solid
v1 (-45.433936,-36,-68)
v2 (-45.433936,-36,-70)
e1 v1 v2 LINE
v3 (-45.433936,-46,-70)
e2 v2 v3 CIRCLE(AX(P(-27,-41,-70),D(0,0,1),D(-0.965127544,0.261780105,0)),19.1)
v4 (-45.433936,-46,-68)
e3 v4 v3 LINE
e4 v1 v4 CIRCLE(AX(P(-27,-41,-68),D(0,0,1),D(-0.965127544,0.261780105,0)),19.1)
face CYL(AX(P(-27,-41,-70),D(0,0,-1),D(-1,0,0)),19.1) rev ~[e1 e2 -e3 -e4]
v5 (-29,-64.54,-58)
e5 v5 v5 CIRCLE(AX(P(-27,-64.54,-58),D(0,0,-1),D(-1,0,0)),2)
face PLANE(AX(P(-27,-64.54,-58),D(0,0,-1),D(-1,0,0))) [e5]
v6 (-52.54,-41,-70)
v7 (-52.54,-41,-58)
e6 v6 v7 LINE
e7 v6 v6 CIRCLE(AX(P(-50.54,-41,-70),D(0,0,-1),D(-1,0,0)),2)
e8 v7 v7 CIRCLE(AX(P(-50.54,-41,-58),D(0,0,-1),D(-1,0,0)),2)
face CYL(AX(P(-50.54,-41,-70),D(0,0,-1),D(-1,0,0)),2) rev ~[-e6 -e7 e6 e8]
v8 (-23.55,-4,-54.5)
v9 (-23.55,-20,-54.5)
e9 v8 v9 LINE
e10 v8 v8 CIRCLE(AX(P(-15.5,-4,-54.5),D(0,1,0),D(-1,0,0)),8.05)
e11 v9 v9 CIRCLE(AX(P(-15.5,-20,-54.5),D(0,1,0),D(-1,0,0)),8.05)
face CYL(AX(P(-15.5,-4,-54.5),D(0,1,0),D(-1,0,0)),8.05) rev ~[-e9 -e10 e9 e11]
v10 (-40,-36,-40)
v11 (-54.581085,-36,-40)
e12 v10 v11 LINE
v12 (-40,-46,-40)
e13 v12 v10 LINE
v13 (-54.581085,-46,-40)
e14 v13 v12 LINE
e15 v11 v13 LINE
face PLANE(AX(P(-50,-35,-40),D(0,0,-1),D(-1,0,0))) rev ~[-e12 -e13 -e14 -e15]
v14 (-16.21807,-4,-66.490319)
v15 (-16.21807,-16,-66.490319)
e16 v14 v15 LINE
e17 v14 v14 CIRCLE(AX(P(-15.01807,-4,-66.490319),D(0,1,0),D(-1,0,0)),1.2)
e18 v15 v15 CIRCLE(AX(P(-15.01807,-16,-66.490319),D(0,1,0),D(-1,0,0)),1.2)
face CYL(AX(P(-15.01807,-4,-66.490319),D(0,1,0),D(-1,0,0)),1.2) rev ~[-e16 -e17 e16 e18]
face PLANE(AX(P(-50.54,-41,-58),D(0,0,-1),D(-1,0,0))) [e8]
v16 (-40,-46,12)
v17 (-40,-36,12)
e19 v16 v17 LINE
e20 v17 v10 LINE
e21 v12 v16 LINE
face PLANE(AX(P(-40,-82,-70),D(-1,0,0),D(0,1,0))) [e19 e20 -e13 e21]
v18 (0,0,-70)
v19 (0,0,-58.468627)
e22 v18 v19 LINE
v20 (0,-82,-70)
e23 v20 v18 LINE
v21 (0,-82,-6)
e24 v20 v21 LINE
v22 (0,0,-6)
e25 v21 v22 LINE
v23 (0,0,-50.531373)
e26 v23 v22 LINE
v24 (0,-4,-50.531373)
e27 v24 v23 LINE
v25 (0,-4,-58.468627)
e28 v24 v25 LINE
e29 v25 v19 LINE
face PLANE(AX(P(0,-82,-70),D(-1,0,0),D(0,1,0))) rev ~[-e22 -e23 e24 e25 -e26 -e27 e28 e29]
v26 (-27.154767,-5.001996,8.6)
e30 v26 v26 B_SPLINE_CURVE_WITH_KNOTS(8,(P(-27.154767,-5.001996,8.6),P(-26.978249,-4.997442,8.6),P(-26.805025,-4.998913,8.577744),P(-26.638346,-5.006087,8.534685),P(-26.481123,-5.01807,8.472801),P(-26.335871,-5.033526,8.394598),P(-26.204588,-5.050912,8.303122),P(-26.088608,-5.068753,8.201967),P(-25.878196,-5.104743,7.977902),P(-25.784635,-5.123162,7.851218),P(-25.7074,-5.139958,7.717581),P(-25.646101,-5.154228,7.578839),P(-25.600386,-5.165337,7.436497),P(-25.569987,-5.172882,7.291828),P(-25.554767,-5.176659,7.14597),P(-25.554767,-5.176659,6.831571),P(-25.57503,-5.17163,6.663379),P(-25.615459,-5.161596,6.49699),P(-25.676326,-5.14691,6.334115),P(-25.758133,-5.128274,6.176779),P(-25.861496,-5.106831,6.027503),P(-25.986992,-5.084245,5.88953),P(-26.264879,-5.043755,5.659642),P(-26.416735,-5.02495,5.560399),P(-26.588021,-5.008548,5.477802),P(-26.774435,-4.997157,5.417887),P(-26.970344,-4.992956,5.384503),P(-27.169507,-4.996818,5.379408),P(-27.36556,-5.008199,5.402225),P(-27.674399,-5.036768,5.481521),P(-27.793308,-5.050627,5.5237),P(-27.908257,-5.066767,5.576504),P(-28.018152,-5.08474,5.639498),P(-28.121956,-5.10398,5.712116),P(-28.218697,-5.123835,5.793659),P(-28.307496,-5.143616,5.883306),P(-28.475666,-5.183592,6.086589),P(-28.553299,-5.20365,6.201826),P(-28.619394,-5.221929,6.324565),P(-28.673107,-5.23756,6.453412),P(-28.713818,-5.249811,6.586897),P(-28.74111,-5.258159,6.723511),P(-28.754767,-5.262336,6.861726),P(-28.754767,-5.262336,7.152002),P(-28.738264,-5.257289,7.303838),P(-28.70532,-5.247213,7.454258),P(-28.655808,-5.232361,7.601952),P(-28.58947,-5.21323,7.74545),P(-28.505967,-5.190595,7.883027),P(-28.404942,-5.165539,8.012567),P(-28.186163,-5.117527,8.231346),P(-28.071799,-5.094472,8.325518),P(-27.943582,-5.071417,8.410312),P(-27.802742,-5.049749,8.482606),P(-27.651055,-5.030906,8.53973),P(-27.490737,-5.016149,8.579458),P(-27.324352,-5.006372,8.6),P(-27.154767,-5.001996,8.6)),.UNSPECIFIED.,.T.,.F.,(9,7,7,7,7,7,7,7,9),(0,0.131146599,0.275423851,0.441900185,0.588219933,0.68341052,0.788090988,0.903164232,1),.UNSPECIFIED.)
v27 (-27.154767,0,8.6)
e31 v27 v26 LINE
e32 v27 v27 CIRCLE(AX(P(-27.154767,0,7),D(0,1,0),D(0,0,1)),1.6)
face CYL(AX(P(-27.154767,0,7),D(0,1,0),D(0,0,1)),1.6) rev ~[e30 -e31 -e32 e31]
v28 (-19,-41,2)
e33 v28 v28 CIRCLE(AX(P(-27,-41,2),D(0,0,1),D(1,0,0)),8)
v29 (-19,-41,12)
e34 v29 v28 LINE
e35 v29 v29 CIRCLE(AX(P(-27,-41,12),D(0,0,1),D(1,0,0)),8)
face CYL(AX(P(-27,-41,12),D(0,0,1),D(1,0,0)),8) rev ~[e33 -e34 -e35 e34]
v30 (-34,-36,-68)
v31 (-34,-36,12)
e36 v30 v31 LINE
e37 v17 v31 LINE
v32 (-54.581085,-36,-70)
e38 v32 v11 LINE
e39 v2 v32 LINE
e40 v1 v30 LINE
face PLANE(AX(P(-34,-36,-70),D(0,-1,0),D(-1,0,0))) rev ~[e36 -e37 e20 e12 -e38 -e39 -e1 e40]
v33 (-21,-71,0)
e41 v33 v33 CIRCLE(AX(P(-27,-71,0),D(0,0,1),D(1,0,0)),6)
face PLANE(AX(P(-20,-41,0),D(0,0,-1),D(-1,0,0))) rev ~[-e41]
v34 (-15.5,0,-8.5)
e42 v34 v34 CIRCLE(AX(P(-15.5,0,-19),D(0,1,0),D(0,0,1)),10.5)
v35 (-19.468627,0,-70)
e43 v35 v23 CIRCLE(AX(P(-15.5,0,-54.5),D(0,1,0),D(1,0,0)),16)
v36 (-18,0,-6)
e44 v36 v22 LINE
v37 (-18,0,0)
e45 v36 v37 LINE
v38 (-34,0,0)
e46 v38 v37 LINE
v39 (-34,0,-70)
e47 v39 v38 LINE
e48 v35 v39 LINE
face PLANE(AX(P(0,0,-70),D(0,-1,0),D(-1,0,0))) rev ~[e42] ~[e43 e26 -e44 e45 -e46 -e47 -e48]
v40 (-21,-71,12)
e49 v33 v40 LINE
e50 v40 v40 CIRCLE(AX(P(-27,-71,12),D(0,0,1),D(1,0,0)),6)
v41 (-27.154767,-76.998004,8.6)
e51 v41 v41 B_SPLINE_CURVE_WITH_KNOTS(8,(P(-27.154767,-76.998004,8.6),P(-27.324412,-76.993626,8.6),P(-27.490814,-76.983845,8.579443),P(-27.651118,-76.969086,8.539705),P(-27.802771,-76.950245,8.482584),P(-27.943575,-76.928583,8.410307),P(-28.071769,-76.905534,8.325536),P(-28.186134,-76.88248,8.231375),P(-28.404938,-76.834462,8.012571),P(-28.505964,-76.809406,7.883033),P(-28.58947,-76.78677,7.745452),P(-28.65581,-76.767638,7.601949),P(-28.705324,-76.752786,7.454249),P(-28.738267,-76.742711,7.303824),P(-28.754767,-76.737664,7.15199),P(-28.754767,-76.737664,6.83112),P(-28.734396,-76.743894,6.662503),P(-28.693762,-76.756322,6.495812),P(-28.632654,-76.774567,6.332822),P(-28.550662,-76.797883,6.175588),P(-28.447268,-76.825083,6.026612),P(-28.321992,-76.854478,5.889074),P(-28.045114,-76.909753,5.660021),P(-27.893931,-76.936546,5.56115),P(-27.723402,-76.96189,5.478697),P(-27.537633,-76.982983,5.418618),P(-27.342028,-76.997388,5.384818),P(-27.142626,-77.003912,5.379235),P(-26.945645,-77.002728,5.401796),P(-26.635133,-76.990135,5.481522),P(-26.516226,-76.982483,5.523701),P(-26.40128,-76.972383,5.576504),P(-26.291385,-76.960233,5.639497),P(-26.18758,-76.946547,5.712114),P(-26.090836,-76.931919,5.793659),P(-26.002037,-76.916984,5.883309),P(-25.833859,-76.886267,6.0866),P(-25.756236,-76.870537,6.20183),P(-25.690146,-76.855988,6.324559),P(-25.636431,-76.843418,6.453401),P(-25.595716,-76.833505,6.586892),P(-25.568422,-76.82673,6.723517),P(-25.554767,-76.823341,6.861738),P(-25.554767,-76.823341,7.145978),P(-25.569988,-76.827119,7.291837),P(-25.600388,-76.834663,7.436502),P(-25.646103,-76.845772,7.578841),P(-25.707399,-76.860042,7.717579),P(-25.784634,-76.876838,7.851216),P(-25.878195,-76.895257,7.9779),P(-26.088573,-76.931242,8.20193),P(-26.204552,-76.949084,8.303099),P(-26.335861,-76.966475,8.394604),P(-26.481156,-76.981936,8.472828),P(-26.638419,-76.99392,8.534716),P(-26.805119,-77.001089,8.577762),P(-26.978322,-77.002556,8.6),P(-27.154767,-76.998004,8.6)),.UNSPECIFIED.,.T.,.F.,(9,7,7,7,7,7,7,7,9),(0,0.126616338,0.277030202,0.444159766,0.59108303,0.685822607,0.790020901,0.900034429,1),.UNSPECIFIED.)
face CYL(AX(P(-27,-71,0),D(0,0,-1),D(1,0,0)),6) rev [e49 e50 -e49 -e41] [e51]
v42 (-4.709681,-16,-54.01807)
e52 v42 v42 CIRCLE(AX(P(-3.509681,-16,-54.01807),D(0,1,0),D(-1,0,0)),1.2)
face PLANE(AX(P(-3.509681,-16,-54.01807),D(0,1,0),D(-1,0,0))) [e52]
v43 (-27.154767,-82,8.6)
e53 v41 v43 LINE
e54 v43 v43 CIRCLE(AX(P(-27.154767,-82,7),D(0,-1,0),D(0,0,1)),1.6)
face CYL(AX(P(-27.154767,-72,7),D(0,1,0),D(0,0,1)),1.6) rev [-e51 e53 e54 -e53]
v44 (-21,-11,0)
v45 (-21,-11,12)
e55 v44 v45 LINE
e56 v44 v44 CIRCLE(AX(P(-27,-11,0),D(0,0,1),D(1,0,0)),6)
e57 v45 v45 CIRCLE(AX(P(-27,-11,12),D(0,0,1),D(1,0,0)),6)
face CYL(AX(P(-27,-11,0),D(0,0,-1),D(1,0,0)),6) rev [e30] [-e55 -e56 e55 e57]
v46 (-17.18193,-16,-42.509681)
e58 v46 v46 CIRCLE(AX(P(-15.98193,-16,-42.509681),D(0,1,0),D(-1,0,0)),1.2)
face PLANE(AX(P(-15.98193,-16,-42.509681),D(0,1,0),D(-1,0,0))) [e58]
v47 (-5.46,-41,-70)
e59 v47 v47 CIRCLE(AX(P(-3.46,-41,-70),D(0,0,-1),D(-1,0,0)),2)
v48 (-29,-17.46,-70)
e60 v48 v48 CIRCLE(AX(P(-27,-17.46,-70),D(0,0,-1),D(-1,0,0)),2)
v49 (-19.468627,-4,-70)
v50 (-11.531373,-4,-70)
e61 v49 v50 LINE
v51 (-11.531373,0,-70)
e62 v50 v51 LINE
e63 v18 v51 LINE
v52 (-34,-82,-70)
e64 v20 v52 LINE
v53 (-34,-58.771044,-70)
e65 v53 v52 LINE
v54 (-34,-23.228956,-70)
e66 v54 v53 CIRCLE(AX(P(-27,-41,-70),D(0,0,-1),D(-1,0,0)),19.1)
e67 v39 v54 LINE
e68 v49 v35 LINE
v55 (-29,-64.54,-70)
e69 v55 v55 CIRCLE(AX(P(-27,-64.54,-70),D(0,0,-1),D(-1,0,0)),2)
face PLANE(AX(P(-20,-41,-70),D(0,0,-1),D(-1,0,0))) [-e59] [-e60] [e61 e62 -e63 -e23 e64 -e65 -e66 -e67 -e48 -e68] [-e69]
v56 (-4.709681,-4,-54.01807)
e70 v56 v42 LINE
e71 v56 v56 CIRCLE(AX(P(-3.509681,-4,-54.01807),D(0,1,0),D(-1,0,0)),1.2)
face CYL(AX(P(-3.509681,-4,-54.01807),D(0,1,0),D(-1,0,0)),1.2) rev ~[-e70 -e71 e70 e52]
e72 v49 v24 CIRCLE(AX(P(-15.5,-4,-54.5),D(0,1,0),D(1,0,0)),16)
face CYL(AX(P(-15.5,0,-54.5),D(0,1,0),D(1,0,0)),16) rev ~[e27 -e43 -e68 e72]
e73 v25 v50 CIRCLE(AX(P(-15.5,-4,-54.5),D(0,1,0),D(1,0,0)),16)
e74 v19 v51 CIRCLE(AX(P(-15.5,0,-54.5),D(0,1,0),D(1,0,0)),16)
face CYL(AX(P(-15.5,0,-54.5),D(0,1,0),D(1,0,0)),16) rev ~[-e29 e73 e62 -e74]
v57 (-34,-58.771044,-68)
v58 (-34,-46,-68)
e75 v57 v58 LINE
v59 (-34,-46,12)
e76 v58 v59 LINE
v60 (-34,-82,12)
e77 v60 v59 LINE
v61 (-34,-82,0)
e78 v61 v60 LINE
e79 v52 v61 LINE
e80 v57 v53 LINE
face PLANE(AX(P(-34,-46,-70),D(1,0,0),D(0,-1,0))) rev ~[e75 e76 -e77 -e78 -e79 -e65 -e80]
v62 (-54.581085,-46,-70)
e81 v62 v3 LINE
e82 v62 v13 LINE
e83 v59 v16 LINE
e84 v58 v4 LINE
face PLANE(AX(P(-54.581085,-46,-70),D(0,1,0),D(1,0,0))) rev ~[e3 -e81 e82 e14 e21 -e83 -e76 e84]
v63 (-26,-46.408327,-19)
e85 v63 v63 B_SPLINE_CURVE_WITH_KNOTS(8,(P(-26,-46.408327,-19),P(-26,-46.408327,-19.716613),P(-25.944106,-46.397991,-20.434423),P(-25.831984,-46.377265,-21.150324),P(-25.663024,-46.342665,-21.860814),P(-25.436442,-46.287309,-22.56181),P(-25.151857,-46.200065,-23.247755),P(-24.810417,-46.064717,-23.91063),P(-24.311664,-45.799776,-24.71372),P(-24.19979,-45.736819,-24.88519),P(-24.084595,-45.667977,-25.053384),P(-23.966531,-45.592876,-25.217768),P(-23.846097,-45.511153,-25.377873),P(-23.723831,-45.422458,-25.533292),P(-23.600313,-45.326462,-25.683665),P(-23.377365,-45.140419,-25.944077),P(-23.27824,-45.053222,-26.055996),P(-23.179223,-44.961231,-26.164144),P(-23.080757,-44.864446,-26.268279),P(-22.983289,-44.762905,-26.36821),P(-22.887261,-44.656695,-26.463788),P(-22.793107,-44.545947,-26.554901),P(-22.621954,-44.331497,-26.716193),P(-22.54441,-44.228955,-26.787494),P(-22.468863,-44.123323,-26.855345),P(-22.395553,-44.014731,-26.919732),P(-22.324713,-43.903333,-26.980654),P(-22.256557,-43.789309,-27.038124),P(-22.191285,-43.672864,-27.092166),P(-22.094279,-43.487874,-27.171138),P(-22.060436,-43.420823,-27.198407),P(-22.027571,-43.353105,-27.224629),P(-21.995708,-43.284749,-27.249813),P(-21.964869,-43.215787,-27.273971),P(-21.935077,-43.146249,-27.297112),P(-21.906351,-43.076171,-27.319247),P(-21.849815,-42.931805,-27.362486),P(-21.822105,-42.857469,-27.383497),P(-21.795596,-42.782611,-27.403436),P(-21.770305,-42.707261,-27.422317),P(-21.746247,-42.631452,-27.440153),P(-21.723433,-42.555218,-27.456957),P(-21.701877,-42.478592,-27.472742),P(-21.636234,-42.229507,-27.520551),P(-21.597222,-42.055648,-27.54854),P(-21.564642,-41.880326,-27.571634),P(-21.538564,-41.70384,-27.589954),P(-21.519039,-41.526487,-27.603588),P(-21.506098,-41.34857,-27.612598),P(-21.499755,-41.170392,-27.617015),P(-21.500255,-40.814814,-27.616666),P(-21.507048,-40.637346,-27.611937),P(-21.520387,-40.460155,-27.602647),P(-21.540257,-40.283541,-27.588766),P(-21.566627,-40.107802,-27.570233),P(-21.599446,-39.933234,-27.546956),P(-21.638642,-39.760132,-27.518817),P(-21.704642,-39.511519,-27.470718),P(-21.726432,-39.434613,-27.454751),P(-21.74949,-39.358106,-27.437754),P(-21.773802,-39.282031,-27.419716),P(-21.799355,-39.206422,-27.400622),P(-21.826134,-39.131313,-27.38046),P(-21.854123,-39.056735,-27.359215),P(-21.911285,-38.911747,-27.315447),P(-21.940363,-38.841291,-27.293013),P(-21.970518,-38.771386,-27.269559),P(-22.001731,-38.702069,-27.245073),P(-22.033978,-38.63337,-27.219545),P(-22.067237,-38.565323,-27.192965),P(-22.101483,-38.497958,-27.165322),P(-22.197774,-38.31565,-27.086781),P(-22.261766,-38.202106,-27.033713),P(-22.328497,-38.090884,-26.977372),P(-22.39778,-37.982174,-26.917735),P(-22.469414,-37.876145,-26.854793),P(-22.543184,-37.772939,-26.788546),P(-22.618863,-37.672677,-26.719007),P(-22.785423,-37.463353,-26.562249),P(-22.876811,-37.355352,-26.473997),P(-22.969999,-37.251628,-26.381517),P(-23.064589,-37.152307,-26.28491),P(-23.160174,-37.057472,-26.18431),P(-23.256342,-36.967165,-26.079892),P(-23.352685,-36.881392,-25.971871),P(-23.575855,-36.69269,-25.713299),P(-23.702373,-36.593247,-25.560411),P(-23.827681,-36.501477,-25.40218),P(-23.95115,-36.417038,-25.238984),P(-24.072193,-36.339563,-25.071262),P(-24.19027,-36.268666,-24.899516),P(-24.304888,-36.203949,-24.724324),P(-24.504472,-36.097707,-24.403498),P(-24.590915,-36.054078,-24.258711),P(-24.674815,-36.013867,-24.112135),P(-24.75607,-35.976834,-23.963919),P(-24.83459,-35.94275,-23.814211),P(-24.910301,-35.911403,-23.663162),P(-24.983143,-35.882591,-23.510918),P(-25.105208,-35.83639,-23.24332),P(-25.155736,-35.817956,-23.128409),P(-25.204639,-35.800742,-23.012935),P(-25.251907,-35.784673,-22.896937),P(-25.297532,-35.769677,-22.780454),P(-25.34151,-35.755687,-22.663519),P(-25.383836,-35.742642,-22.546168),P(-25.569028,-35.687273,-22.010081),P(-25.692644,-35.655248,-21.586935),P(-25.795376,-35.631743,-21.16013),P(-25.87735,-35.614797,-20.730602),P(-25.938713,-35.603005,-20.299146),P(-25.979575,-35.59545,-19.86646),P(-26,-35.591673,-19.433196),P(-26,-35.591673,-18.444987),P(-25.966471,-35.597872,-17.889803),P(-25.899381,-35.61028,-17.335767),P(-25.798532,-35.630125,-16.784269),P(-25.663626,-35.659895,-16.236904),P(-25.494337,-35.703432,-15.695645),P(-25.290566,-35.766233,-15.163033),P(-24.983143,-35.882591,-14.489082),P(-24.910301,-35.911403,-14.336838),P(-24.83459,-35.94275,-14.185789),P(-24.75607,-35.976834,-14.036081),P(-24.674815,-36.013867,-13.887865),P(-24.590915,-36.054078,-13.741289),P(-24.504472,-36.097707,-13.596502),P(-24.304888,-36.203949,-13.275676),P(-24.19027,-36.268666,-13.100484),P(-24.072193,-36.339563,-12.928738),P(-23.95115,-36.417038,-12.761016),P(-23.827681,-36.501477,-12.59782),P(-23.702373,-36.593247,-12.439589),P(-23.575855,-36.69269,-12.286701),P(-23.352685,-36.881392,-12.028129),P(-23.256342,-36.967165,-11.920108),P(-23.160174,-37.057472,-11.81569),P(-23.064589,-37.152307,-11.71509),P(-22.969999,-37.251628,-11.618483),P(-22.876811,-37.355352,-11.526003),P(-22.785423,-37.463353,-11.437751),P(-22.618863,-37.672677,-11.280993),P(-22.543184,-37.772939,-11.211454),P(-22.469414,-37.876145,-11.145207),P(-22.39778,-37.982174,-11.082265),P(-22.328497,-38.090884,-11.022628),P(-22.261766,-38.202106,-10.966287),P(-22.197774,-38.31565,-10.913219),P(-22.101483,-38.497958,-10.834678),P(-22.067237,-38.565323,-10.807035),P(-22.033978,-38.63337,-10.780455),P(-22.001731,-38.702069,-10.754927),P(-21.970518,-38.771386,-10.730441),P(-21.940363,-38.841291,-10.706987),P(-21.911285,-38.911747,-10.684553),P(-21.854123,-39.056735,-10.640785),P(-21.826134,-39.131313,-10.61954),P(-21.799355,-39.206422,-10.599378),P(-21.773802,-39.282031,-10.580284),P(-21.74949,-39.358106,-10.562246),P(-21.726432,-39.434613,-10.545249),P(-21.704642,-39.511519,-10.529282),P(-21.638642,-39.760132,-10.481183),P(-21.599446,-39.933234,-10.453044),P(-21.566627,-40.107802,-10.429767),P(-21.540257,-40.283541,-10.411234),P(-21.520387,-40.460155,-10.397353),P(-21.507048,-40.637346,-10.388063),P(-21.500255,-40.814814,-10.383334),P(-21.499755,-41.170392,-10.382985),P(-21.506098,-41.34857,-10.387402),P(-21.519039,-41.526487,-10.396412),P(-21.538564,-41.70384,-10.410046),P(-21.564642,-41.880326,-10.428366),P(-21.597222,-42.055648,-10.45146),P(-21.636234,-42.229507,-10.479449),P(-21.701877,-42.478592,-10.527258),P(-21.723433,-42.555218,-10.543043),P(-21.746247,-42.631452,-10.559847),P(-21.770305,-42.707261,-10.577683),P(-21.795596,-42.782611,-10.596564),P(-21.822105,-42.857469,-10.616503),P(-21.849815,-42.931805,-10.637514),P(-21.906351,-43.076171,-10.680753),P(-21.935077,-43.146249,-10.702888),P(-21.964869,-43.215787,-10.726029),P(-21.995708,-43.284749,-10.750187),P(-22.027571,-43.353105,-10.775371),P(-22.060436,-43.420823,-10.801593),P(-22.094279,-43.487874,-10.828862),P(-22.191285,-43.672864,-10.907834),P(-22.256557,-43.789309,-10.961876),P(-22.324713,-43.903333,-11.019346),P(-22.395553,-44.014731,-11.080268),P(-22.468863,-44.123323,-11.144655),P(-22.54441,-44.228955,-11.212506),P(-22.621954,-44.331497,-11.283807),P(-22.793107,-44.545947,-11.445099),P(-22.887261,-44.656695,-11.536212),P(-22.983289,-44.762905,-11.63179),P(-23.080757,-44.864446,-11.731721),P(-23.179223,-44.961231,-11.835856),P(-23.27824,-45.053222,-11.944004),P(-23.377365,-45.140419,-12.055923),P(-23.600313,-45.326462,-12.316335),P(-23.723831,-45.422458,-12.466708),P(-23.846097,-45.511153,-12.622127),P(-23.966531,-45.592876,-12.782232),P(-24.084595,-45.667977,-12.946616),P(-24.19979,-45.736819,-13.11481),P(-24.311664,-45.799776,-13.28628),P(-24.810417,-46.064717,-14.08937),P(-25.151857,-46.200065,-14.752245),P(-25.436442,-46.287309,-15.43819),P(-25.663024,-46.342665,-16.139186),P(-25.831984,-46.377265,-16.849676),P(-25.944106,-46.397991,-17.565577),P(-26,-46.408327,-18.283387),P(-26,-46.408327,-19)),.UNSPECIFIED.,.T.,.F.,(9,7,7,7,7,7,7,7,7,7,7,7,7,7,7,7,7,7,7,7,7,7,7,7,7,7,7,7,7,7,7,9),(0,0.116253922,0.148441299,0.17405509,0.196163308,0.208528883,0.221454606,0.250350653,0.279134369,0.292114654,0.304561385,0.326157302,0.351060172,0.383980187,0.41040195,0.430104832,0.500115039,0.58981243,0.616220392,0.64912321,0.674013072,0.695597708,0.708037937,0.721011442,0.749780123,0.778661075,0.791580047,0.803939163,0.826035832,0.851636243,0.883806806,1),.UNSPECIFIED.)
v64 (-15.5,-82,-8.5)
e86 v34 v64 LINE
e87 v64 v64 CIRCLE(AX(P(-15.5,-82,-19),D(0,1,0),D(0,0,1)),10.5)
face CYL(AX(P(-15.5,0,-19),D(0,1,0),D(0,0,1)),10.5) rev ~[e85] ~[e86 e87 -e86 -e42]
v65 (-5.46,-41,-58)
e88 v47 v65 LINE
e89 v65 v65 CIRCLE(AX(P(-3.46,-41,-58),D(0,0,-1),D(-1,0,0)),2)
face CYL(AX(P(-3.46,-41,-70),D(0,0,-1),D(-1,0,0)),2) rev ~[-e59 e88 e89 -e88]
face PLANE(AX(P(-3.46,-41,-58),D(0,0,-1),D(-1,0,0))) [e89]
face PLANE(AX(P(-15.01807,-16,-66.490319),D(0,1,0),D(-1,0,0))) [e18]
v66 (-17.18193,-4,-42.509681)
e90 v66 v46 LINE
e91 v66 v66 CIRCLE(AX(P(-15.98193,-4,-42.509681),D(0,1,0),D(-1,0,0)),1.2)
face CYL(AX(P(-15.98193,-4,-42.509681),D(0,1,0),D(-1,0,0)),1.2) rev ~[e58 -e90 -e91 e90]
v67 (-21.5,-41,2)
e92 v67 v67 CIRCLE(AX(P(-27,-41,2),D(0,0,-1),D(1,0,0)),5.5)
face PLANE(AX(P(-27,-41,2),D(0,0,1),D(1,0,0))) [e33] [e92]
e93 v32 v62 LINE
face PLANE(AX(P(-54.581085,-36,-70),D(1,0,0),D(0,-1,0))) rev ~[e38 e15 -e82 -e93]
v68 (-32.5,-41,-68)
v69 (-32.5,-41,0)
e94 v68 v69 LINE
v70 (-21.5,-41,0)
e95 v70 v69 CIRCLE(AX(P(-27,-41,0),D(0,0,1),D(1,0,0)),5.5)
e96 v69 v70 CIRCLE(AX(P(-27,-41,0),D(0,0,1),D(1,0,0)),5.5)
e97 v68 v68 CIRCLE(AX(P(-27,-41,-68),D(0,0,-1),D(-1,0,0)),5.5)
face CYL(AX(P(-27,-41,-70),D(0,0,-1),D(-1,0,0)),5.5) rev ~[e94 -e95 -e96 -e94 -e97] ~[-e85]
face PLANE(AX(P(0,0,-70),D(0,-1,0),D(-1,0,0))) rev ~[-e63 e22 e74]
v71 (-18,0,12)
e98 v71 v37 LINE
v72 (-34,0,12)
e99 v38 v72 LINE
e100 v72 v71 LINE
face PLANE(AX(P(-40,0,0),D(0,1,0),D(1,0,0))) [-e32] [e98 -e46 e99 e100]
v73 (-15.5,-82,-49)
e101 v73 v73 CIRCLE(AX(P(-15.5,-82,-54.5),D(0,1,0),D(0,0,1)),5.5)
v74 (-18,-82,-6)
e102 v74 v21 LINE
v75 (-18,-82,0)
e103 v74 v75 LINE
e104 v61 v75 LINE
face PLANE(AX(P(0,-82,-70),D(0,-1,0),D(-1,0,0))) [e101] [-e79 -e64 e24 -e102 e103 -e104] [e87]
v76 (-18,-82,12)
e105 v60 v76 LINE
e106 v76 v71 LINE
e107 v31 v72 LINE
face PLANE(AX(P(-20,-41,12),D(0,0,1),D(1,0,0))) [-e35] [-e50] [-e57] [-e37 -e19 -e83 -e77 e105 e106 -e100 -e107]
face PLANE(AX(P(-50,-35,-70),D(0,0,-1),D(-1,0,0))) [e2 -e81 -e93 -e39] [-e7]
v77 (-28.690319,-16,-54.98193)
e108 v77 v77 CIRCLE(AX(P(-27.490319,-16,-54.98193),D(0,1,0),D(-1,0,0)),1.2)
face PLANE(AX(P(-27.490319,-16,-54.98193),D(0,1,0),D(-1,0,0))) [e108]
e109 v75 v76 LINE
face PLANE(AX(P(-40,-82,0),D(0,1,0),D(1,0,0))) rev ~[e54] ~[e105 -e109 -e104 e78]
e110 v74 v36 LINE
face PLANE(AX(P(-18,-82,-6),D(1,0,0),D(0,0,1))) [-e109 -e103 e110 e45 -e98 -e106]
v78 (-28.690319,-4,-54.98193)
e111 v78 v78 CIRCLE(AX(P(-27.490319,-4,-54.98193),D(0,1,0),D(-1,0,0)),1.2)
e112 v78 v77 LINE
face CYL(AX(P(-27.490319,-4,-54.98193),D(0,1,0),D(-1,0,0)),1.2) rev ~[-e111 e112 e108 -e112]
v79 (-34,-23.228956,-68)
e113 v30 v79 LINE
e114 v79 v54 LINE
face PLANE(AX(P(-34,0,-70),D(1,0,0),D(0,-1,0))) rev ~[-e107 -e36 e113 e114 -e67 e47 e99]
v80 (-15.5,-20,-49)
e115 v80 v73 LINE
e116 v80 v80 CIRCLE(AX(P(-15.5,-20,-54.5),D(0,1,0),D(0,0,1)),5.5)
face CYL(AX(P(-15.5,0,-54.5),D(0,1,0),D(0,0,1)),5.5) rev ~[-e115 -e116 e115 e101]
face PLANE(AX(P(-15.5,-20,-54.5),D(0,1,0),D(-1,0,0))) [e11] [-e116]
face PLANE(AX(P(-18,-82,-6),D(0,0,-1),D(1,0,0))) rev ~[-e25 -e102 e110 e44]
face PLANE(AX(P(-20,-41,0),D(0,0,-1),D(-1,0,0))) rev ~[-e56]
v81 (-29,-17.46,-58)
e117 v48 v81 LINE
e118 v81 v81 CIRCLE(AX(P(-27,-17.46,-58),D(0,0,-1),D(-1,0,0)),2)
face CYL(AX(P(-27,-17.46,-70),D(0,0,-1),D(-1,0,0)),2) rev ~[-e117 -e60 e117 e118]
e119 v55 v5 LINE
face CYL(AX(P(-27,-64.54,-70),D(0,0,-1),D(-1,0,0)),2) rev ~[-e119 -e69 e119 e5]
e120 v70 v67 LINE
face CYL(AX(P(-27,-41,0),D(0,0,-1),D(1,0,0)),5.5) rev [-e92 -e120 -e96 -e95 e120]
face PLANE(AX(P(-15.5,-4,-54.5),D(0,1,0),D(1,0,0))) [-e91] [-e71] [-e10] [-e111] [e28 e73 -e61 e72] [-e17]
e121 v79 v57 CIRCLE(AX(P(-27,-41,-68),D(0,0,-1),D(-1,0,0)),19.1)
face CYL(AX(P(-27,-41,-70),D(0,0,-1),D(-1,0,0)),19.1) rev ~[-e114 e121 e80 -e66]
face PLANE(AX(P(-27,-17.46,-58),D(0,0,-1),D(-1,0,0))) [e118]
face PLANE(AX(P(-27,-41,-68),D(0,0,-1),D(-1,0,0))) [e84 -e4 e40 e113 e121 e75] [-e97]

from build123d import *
from build123d.topology import SkipClean

# Parameters (mm, degrees)
SKETCH1_W           = 40
SKETCH1_H           = 82
SKETCH1_R           = 5.5
SKETCH1_R_2         = 6
BOSS_EXTRUDE1_DEPTH = 12
BOSS_EXTRUDE2_START = 70
SKETCH2_W           = 40
SKETCH2_H           = 82
SKETCH2_R           = 5.5
BOSS_EXTRUDE2_DEPTH = 70
SKETCH3_R           = 1.6
CUT_EXTRUDE1_DEPTH  = 10
CUT_EXTRUDE2_START  = -10
SKETCH4_R           = 1.6
CUT_EXTRUDE2_DEPTH  = 10
SKETCH5_R           = 10.5
SKETCH5_R_2         = 5.5
CUT_EXTRUDE3_DEPTH  = 100
SKETCH6_R           = 16
CUT_EXTRUDE4_DEPTH  = 4
SKETCH19_R          = 8.05
CUT_EXTRUDE17_DEPTH = 16
SKETCH12_R          = 1.2
CUT_EXTRUDE12_DEPTH = 12
SKETCH13_W          = 20
SKETCH13_H          = 70
BOSS_EXTRUDE3_DEPTH = 30
SKETCH14_R          = 2
CUT_EXTRUDE13_DEPTH = 12
CUT_EXTRUDE14_DEPTH = 115
SKETCH18_R          = 19.1
CUT_EXTRUDE16_DEPTH = 2
SKETCH20_W          = 18
SKETCH20_H          = 18
CUT_EXTRUDE18_DEPTH = 100
SKETCH21_R          = 8
CUT_EXTRUDE19_DEPTH = 10


with BuildPart() as part:
    # Sketch1 → Boss-Extrude1 (new body)
    with BuildSketch(Plane.XY):
        with Locations((-20, -41)):
            Rectangle(SKETCH1_W, SKETCH1_H)
        with Locations((-27, -41)):
            Circle(SKETCH1_R, mode=Mode.SUBTRACT)
        with Locations((-27, -11)):
            Circle(SKETCH1_R_2, mode=Mode.SUBTRACT)
        with Locations((-27, -71)):
            Circle(SKETCH1_R_2, mode=Mode.SUBTRACT)
    extrude(amount=BOSS_EXTRUDE1_DEPTH)

    # Sketch2 → Boss-Extrude2 (add)
    with SkipClean():  # the faces are left unmerged after this step: merging them gives an invalid solid
        with BuildSketch(Plane(origin=(0, 0, 0), x_dir=(-1, 0, 0), z_dir=(0, 0, -1)).offset(BOSS_EXTRUDE2_START)):
            with Locations((20, -41)):
                Rectangle(SKETCH2_W, SKETCH2_H)
            with Locations((27, -41)):
                Circle(SKETCH2_R, mode=Mode.SUBTRACT)
        extrude(amount=-BOSS_EXTRUDE2_DEPTH)

    # Sketch3 → Cut-Extrude1 (cut)
    with SkipClean():  # the faces are left unmerged after this step: merging them gives an invalid solid
        with BuildSketch(Plane(origin=(0, 0, 0), x_dir=(1, 0, 0), z_dir=(0, 1, 0))):
            with Locations(Location((-27.154767421, -7, 0), (0, 0, 270))):
                Circle(SKETCH3_R)
        extrude(amount=-CUT_EXTRUDE1_DEPTH, mode=Mode.SUBTRACT)

    # Sketch4 → Cut-Extrude2 (cut)
    with SkipClean():  # the faces are left unmerged after this step: merging them gives an invalid solid
        with BuildSketch(Plane.XZ.offset(82).offset(CUT_EXTRUDE2_START)):
            with Locations(Location((-27.154767421, 7, 0), (0, 0, 90))):
                Circle(SKETCH4_R)
        extrude(amount=CUT_EXTRUDE2_DEPTH, mode=Mode.SUBTRACT)

    # Sketch5 → Cut-Extrude3 (cut)
    with SkipClean():  # the faces are left unmerged after this step: merging them gives an invalid solid
        with BuildSketch(Plane(origin=(0, 0, 0), x_dir=(1, 0, 0), z_dir=(0, 1, 0))):
            with Locations(Location((-15.5, 19, 0), (0, 0, 270))):
                Circle(SKETCH5_R)
            with Locations(Location((-15.5, 54.5, 0), (0, 0, 270))):
                Circle(SKETCH5_R_2)
        extrude(amount=-CUT_EXTRUDE3_DEPTH, mode=Mode.SUBTRACT)

    # Sketch6 → Cut-Extrude4 (cut)
    with SkipClean():  # the faces are left unmerged after this step: merging them gives an invalid solid
        with BuildSketch(Plane(origin=(0, 0, 0), x_dir=(1, 0, 0), z_dir=(0, 1, 0))):
            with Locations((-15.5, 54.5)):
                Circle(SKETCH6_R)
        extrude(amount=-CUT_EXTRUDE4_DEPTH, mode=Mode.SUBTRACT)

    # Sketch19 → Cut-Extrude17 (cut)
    with SkipClean():  # the faces are left unmerged after this step: merging them gives an invalid solid
        with BuildSketch(Plane(origin=(0, -4, 0), x_dir=(1, 0, 0), z_dir=(0, 1, 0))):
            with Locations(Location((-15.5, 54.5, 0), (0, 0, 180))):
                Circle(SKETCH19_R)
        extrude(amount=-CUT_EXTRUDE17_DEPTH, mode=Mode.SUBTRACT)

    # Sketch12 → Cut-Extrude12 (cut)
    with SkipClean():  # the faces are left unmerged after this step: merging them gives an invalid solid
        with BuildSketch(Plane(origin=(0, -4, 0), x_dir=(1, 0, 0), z_dir=(0, 1, 0))):
            with Locations(Location((-15.98192958, 42.509681244, 0), (0, 0, 180))):
                Circle(SKETCH12_R)
            with Locations(Location((-3.509681244, 54.01807042, 0), (0, 0, 180))):
                Circle(SKETCH12_R)
            with Locations(Location((-15.01807042, 66.490318756, 0), (0, 0, 180))):
                Circle(SKETCH12_R)
            with Locations(Location((-27.490318756, 54.98192958, 0), (0, 0, 180))):
                Circle(SKETCH12_R)
        extrude(amount=-CUT_EXTRUDE12_DEPTH, mode=Mode.SUBTRACT)

    # Sketch13 → Boss-Extrude3 (add)
    with SkipClean():  # the faces are left unmerged after this step: merging them gives an invalid solid
        with BuildSketch(Plane(origin=(0, 0, -70), x_dir=(-1, 0, 0), z_dir=(0, 0, -1))):
            with Locations((50, -35)):
                Rectangle(SKETCH13_W, SKETCH13_H)
        extrude(amount=-BOSS_EXTRUDE3_DEPTH)

    # Sketch14 → Cut-Extrude13 (cut)
    with SkipClean():  # the faces are left unmerged after this step: merging them gives an invalid solid
        with BuildSketch(Plane(origin=(0, 0, -70), x_dir=(-1, 0, 0), z_dir=(0, 0, -1))):
            with Locations((50.54, -41)):
                Circle(SKETCH14_R)
            with Locations((27, -17.46)):
                Circle(SKETCH14_R)
            with Locations((3.46, -41)):
                Circle(SKETCH14_R)
            with Locations((27, -64.54)):
                Circle(SKETCH14_R)
        extrude(amount=-CUT_EXTRUDE13_DEPTH, mode=Mode.SUBTRACT)

    # Sketch15 → Cut-Extrude14 (cut)
    with SkipClean():  # the faces are left unmerged after this step: merging them gives an invalid solid
        with BuildSketch(Plane(origin=(0, 0, -70), x_dir=(-1, 0, 0), z_dir=(0, 0, -1))):
            Polygon((34, 0), (34, -36), (54.581085422, -36), (54.581085422, -46), (34, -46), (34, -82), (77.520554958, -82), (77.520554958, 0), align=None)
        extrude(amount=-CUT_EXTRUDE14_DEPTH, mode=Mode.SUBTRACT)

    # Sketch18 → Cut-Extrude16 (cut)
    with SkipClean():  # the faces are left unmerged after this step: merging them gives an invalid solid
        with BuildSketch(Plane(origin=(0, 0, -70), x_dir=(-1, 0, 0), z_dir=(0, 0, -1))):
            with Locations((27, -41)):
                Circle(SKETCH18_R)
        extrude(amount=-CUT_EXTRUDE16_DEPTH, mode=Mode.SUBTRACT)

    # Sketch20 → Cut-Extrude18 (cut)
    with SkipClean():  # the faces are left unmerged after this step: merging them gives an invalid solid
        with BuildSketch(Plane.XZ.offset(82)):
            with Locations((-9, 3)):
                Rectangle(SKETCH20_W, SKETCH20_H)
        extrude(amount=-CUT_EXTRUDE18_DEPTH, mode=Mode.SUBTRACT)

    # Sketch21 → Cut-Extrude19 (cut)
    with BuildSketch(Plane.XY.offset(12)):
        with Locations((-27, -41)):
            Circle(SKETCH21_R)
    extrude(amount=-CUT_EXTRUDE19_DEPTH, mode=Mode.SUBTRACT)


solid = part.part
